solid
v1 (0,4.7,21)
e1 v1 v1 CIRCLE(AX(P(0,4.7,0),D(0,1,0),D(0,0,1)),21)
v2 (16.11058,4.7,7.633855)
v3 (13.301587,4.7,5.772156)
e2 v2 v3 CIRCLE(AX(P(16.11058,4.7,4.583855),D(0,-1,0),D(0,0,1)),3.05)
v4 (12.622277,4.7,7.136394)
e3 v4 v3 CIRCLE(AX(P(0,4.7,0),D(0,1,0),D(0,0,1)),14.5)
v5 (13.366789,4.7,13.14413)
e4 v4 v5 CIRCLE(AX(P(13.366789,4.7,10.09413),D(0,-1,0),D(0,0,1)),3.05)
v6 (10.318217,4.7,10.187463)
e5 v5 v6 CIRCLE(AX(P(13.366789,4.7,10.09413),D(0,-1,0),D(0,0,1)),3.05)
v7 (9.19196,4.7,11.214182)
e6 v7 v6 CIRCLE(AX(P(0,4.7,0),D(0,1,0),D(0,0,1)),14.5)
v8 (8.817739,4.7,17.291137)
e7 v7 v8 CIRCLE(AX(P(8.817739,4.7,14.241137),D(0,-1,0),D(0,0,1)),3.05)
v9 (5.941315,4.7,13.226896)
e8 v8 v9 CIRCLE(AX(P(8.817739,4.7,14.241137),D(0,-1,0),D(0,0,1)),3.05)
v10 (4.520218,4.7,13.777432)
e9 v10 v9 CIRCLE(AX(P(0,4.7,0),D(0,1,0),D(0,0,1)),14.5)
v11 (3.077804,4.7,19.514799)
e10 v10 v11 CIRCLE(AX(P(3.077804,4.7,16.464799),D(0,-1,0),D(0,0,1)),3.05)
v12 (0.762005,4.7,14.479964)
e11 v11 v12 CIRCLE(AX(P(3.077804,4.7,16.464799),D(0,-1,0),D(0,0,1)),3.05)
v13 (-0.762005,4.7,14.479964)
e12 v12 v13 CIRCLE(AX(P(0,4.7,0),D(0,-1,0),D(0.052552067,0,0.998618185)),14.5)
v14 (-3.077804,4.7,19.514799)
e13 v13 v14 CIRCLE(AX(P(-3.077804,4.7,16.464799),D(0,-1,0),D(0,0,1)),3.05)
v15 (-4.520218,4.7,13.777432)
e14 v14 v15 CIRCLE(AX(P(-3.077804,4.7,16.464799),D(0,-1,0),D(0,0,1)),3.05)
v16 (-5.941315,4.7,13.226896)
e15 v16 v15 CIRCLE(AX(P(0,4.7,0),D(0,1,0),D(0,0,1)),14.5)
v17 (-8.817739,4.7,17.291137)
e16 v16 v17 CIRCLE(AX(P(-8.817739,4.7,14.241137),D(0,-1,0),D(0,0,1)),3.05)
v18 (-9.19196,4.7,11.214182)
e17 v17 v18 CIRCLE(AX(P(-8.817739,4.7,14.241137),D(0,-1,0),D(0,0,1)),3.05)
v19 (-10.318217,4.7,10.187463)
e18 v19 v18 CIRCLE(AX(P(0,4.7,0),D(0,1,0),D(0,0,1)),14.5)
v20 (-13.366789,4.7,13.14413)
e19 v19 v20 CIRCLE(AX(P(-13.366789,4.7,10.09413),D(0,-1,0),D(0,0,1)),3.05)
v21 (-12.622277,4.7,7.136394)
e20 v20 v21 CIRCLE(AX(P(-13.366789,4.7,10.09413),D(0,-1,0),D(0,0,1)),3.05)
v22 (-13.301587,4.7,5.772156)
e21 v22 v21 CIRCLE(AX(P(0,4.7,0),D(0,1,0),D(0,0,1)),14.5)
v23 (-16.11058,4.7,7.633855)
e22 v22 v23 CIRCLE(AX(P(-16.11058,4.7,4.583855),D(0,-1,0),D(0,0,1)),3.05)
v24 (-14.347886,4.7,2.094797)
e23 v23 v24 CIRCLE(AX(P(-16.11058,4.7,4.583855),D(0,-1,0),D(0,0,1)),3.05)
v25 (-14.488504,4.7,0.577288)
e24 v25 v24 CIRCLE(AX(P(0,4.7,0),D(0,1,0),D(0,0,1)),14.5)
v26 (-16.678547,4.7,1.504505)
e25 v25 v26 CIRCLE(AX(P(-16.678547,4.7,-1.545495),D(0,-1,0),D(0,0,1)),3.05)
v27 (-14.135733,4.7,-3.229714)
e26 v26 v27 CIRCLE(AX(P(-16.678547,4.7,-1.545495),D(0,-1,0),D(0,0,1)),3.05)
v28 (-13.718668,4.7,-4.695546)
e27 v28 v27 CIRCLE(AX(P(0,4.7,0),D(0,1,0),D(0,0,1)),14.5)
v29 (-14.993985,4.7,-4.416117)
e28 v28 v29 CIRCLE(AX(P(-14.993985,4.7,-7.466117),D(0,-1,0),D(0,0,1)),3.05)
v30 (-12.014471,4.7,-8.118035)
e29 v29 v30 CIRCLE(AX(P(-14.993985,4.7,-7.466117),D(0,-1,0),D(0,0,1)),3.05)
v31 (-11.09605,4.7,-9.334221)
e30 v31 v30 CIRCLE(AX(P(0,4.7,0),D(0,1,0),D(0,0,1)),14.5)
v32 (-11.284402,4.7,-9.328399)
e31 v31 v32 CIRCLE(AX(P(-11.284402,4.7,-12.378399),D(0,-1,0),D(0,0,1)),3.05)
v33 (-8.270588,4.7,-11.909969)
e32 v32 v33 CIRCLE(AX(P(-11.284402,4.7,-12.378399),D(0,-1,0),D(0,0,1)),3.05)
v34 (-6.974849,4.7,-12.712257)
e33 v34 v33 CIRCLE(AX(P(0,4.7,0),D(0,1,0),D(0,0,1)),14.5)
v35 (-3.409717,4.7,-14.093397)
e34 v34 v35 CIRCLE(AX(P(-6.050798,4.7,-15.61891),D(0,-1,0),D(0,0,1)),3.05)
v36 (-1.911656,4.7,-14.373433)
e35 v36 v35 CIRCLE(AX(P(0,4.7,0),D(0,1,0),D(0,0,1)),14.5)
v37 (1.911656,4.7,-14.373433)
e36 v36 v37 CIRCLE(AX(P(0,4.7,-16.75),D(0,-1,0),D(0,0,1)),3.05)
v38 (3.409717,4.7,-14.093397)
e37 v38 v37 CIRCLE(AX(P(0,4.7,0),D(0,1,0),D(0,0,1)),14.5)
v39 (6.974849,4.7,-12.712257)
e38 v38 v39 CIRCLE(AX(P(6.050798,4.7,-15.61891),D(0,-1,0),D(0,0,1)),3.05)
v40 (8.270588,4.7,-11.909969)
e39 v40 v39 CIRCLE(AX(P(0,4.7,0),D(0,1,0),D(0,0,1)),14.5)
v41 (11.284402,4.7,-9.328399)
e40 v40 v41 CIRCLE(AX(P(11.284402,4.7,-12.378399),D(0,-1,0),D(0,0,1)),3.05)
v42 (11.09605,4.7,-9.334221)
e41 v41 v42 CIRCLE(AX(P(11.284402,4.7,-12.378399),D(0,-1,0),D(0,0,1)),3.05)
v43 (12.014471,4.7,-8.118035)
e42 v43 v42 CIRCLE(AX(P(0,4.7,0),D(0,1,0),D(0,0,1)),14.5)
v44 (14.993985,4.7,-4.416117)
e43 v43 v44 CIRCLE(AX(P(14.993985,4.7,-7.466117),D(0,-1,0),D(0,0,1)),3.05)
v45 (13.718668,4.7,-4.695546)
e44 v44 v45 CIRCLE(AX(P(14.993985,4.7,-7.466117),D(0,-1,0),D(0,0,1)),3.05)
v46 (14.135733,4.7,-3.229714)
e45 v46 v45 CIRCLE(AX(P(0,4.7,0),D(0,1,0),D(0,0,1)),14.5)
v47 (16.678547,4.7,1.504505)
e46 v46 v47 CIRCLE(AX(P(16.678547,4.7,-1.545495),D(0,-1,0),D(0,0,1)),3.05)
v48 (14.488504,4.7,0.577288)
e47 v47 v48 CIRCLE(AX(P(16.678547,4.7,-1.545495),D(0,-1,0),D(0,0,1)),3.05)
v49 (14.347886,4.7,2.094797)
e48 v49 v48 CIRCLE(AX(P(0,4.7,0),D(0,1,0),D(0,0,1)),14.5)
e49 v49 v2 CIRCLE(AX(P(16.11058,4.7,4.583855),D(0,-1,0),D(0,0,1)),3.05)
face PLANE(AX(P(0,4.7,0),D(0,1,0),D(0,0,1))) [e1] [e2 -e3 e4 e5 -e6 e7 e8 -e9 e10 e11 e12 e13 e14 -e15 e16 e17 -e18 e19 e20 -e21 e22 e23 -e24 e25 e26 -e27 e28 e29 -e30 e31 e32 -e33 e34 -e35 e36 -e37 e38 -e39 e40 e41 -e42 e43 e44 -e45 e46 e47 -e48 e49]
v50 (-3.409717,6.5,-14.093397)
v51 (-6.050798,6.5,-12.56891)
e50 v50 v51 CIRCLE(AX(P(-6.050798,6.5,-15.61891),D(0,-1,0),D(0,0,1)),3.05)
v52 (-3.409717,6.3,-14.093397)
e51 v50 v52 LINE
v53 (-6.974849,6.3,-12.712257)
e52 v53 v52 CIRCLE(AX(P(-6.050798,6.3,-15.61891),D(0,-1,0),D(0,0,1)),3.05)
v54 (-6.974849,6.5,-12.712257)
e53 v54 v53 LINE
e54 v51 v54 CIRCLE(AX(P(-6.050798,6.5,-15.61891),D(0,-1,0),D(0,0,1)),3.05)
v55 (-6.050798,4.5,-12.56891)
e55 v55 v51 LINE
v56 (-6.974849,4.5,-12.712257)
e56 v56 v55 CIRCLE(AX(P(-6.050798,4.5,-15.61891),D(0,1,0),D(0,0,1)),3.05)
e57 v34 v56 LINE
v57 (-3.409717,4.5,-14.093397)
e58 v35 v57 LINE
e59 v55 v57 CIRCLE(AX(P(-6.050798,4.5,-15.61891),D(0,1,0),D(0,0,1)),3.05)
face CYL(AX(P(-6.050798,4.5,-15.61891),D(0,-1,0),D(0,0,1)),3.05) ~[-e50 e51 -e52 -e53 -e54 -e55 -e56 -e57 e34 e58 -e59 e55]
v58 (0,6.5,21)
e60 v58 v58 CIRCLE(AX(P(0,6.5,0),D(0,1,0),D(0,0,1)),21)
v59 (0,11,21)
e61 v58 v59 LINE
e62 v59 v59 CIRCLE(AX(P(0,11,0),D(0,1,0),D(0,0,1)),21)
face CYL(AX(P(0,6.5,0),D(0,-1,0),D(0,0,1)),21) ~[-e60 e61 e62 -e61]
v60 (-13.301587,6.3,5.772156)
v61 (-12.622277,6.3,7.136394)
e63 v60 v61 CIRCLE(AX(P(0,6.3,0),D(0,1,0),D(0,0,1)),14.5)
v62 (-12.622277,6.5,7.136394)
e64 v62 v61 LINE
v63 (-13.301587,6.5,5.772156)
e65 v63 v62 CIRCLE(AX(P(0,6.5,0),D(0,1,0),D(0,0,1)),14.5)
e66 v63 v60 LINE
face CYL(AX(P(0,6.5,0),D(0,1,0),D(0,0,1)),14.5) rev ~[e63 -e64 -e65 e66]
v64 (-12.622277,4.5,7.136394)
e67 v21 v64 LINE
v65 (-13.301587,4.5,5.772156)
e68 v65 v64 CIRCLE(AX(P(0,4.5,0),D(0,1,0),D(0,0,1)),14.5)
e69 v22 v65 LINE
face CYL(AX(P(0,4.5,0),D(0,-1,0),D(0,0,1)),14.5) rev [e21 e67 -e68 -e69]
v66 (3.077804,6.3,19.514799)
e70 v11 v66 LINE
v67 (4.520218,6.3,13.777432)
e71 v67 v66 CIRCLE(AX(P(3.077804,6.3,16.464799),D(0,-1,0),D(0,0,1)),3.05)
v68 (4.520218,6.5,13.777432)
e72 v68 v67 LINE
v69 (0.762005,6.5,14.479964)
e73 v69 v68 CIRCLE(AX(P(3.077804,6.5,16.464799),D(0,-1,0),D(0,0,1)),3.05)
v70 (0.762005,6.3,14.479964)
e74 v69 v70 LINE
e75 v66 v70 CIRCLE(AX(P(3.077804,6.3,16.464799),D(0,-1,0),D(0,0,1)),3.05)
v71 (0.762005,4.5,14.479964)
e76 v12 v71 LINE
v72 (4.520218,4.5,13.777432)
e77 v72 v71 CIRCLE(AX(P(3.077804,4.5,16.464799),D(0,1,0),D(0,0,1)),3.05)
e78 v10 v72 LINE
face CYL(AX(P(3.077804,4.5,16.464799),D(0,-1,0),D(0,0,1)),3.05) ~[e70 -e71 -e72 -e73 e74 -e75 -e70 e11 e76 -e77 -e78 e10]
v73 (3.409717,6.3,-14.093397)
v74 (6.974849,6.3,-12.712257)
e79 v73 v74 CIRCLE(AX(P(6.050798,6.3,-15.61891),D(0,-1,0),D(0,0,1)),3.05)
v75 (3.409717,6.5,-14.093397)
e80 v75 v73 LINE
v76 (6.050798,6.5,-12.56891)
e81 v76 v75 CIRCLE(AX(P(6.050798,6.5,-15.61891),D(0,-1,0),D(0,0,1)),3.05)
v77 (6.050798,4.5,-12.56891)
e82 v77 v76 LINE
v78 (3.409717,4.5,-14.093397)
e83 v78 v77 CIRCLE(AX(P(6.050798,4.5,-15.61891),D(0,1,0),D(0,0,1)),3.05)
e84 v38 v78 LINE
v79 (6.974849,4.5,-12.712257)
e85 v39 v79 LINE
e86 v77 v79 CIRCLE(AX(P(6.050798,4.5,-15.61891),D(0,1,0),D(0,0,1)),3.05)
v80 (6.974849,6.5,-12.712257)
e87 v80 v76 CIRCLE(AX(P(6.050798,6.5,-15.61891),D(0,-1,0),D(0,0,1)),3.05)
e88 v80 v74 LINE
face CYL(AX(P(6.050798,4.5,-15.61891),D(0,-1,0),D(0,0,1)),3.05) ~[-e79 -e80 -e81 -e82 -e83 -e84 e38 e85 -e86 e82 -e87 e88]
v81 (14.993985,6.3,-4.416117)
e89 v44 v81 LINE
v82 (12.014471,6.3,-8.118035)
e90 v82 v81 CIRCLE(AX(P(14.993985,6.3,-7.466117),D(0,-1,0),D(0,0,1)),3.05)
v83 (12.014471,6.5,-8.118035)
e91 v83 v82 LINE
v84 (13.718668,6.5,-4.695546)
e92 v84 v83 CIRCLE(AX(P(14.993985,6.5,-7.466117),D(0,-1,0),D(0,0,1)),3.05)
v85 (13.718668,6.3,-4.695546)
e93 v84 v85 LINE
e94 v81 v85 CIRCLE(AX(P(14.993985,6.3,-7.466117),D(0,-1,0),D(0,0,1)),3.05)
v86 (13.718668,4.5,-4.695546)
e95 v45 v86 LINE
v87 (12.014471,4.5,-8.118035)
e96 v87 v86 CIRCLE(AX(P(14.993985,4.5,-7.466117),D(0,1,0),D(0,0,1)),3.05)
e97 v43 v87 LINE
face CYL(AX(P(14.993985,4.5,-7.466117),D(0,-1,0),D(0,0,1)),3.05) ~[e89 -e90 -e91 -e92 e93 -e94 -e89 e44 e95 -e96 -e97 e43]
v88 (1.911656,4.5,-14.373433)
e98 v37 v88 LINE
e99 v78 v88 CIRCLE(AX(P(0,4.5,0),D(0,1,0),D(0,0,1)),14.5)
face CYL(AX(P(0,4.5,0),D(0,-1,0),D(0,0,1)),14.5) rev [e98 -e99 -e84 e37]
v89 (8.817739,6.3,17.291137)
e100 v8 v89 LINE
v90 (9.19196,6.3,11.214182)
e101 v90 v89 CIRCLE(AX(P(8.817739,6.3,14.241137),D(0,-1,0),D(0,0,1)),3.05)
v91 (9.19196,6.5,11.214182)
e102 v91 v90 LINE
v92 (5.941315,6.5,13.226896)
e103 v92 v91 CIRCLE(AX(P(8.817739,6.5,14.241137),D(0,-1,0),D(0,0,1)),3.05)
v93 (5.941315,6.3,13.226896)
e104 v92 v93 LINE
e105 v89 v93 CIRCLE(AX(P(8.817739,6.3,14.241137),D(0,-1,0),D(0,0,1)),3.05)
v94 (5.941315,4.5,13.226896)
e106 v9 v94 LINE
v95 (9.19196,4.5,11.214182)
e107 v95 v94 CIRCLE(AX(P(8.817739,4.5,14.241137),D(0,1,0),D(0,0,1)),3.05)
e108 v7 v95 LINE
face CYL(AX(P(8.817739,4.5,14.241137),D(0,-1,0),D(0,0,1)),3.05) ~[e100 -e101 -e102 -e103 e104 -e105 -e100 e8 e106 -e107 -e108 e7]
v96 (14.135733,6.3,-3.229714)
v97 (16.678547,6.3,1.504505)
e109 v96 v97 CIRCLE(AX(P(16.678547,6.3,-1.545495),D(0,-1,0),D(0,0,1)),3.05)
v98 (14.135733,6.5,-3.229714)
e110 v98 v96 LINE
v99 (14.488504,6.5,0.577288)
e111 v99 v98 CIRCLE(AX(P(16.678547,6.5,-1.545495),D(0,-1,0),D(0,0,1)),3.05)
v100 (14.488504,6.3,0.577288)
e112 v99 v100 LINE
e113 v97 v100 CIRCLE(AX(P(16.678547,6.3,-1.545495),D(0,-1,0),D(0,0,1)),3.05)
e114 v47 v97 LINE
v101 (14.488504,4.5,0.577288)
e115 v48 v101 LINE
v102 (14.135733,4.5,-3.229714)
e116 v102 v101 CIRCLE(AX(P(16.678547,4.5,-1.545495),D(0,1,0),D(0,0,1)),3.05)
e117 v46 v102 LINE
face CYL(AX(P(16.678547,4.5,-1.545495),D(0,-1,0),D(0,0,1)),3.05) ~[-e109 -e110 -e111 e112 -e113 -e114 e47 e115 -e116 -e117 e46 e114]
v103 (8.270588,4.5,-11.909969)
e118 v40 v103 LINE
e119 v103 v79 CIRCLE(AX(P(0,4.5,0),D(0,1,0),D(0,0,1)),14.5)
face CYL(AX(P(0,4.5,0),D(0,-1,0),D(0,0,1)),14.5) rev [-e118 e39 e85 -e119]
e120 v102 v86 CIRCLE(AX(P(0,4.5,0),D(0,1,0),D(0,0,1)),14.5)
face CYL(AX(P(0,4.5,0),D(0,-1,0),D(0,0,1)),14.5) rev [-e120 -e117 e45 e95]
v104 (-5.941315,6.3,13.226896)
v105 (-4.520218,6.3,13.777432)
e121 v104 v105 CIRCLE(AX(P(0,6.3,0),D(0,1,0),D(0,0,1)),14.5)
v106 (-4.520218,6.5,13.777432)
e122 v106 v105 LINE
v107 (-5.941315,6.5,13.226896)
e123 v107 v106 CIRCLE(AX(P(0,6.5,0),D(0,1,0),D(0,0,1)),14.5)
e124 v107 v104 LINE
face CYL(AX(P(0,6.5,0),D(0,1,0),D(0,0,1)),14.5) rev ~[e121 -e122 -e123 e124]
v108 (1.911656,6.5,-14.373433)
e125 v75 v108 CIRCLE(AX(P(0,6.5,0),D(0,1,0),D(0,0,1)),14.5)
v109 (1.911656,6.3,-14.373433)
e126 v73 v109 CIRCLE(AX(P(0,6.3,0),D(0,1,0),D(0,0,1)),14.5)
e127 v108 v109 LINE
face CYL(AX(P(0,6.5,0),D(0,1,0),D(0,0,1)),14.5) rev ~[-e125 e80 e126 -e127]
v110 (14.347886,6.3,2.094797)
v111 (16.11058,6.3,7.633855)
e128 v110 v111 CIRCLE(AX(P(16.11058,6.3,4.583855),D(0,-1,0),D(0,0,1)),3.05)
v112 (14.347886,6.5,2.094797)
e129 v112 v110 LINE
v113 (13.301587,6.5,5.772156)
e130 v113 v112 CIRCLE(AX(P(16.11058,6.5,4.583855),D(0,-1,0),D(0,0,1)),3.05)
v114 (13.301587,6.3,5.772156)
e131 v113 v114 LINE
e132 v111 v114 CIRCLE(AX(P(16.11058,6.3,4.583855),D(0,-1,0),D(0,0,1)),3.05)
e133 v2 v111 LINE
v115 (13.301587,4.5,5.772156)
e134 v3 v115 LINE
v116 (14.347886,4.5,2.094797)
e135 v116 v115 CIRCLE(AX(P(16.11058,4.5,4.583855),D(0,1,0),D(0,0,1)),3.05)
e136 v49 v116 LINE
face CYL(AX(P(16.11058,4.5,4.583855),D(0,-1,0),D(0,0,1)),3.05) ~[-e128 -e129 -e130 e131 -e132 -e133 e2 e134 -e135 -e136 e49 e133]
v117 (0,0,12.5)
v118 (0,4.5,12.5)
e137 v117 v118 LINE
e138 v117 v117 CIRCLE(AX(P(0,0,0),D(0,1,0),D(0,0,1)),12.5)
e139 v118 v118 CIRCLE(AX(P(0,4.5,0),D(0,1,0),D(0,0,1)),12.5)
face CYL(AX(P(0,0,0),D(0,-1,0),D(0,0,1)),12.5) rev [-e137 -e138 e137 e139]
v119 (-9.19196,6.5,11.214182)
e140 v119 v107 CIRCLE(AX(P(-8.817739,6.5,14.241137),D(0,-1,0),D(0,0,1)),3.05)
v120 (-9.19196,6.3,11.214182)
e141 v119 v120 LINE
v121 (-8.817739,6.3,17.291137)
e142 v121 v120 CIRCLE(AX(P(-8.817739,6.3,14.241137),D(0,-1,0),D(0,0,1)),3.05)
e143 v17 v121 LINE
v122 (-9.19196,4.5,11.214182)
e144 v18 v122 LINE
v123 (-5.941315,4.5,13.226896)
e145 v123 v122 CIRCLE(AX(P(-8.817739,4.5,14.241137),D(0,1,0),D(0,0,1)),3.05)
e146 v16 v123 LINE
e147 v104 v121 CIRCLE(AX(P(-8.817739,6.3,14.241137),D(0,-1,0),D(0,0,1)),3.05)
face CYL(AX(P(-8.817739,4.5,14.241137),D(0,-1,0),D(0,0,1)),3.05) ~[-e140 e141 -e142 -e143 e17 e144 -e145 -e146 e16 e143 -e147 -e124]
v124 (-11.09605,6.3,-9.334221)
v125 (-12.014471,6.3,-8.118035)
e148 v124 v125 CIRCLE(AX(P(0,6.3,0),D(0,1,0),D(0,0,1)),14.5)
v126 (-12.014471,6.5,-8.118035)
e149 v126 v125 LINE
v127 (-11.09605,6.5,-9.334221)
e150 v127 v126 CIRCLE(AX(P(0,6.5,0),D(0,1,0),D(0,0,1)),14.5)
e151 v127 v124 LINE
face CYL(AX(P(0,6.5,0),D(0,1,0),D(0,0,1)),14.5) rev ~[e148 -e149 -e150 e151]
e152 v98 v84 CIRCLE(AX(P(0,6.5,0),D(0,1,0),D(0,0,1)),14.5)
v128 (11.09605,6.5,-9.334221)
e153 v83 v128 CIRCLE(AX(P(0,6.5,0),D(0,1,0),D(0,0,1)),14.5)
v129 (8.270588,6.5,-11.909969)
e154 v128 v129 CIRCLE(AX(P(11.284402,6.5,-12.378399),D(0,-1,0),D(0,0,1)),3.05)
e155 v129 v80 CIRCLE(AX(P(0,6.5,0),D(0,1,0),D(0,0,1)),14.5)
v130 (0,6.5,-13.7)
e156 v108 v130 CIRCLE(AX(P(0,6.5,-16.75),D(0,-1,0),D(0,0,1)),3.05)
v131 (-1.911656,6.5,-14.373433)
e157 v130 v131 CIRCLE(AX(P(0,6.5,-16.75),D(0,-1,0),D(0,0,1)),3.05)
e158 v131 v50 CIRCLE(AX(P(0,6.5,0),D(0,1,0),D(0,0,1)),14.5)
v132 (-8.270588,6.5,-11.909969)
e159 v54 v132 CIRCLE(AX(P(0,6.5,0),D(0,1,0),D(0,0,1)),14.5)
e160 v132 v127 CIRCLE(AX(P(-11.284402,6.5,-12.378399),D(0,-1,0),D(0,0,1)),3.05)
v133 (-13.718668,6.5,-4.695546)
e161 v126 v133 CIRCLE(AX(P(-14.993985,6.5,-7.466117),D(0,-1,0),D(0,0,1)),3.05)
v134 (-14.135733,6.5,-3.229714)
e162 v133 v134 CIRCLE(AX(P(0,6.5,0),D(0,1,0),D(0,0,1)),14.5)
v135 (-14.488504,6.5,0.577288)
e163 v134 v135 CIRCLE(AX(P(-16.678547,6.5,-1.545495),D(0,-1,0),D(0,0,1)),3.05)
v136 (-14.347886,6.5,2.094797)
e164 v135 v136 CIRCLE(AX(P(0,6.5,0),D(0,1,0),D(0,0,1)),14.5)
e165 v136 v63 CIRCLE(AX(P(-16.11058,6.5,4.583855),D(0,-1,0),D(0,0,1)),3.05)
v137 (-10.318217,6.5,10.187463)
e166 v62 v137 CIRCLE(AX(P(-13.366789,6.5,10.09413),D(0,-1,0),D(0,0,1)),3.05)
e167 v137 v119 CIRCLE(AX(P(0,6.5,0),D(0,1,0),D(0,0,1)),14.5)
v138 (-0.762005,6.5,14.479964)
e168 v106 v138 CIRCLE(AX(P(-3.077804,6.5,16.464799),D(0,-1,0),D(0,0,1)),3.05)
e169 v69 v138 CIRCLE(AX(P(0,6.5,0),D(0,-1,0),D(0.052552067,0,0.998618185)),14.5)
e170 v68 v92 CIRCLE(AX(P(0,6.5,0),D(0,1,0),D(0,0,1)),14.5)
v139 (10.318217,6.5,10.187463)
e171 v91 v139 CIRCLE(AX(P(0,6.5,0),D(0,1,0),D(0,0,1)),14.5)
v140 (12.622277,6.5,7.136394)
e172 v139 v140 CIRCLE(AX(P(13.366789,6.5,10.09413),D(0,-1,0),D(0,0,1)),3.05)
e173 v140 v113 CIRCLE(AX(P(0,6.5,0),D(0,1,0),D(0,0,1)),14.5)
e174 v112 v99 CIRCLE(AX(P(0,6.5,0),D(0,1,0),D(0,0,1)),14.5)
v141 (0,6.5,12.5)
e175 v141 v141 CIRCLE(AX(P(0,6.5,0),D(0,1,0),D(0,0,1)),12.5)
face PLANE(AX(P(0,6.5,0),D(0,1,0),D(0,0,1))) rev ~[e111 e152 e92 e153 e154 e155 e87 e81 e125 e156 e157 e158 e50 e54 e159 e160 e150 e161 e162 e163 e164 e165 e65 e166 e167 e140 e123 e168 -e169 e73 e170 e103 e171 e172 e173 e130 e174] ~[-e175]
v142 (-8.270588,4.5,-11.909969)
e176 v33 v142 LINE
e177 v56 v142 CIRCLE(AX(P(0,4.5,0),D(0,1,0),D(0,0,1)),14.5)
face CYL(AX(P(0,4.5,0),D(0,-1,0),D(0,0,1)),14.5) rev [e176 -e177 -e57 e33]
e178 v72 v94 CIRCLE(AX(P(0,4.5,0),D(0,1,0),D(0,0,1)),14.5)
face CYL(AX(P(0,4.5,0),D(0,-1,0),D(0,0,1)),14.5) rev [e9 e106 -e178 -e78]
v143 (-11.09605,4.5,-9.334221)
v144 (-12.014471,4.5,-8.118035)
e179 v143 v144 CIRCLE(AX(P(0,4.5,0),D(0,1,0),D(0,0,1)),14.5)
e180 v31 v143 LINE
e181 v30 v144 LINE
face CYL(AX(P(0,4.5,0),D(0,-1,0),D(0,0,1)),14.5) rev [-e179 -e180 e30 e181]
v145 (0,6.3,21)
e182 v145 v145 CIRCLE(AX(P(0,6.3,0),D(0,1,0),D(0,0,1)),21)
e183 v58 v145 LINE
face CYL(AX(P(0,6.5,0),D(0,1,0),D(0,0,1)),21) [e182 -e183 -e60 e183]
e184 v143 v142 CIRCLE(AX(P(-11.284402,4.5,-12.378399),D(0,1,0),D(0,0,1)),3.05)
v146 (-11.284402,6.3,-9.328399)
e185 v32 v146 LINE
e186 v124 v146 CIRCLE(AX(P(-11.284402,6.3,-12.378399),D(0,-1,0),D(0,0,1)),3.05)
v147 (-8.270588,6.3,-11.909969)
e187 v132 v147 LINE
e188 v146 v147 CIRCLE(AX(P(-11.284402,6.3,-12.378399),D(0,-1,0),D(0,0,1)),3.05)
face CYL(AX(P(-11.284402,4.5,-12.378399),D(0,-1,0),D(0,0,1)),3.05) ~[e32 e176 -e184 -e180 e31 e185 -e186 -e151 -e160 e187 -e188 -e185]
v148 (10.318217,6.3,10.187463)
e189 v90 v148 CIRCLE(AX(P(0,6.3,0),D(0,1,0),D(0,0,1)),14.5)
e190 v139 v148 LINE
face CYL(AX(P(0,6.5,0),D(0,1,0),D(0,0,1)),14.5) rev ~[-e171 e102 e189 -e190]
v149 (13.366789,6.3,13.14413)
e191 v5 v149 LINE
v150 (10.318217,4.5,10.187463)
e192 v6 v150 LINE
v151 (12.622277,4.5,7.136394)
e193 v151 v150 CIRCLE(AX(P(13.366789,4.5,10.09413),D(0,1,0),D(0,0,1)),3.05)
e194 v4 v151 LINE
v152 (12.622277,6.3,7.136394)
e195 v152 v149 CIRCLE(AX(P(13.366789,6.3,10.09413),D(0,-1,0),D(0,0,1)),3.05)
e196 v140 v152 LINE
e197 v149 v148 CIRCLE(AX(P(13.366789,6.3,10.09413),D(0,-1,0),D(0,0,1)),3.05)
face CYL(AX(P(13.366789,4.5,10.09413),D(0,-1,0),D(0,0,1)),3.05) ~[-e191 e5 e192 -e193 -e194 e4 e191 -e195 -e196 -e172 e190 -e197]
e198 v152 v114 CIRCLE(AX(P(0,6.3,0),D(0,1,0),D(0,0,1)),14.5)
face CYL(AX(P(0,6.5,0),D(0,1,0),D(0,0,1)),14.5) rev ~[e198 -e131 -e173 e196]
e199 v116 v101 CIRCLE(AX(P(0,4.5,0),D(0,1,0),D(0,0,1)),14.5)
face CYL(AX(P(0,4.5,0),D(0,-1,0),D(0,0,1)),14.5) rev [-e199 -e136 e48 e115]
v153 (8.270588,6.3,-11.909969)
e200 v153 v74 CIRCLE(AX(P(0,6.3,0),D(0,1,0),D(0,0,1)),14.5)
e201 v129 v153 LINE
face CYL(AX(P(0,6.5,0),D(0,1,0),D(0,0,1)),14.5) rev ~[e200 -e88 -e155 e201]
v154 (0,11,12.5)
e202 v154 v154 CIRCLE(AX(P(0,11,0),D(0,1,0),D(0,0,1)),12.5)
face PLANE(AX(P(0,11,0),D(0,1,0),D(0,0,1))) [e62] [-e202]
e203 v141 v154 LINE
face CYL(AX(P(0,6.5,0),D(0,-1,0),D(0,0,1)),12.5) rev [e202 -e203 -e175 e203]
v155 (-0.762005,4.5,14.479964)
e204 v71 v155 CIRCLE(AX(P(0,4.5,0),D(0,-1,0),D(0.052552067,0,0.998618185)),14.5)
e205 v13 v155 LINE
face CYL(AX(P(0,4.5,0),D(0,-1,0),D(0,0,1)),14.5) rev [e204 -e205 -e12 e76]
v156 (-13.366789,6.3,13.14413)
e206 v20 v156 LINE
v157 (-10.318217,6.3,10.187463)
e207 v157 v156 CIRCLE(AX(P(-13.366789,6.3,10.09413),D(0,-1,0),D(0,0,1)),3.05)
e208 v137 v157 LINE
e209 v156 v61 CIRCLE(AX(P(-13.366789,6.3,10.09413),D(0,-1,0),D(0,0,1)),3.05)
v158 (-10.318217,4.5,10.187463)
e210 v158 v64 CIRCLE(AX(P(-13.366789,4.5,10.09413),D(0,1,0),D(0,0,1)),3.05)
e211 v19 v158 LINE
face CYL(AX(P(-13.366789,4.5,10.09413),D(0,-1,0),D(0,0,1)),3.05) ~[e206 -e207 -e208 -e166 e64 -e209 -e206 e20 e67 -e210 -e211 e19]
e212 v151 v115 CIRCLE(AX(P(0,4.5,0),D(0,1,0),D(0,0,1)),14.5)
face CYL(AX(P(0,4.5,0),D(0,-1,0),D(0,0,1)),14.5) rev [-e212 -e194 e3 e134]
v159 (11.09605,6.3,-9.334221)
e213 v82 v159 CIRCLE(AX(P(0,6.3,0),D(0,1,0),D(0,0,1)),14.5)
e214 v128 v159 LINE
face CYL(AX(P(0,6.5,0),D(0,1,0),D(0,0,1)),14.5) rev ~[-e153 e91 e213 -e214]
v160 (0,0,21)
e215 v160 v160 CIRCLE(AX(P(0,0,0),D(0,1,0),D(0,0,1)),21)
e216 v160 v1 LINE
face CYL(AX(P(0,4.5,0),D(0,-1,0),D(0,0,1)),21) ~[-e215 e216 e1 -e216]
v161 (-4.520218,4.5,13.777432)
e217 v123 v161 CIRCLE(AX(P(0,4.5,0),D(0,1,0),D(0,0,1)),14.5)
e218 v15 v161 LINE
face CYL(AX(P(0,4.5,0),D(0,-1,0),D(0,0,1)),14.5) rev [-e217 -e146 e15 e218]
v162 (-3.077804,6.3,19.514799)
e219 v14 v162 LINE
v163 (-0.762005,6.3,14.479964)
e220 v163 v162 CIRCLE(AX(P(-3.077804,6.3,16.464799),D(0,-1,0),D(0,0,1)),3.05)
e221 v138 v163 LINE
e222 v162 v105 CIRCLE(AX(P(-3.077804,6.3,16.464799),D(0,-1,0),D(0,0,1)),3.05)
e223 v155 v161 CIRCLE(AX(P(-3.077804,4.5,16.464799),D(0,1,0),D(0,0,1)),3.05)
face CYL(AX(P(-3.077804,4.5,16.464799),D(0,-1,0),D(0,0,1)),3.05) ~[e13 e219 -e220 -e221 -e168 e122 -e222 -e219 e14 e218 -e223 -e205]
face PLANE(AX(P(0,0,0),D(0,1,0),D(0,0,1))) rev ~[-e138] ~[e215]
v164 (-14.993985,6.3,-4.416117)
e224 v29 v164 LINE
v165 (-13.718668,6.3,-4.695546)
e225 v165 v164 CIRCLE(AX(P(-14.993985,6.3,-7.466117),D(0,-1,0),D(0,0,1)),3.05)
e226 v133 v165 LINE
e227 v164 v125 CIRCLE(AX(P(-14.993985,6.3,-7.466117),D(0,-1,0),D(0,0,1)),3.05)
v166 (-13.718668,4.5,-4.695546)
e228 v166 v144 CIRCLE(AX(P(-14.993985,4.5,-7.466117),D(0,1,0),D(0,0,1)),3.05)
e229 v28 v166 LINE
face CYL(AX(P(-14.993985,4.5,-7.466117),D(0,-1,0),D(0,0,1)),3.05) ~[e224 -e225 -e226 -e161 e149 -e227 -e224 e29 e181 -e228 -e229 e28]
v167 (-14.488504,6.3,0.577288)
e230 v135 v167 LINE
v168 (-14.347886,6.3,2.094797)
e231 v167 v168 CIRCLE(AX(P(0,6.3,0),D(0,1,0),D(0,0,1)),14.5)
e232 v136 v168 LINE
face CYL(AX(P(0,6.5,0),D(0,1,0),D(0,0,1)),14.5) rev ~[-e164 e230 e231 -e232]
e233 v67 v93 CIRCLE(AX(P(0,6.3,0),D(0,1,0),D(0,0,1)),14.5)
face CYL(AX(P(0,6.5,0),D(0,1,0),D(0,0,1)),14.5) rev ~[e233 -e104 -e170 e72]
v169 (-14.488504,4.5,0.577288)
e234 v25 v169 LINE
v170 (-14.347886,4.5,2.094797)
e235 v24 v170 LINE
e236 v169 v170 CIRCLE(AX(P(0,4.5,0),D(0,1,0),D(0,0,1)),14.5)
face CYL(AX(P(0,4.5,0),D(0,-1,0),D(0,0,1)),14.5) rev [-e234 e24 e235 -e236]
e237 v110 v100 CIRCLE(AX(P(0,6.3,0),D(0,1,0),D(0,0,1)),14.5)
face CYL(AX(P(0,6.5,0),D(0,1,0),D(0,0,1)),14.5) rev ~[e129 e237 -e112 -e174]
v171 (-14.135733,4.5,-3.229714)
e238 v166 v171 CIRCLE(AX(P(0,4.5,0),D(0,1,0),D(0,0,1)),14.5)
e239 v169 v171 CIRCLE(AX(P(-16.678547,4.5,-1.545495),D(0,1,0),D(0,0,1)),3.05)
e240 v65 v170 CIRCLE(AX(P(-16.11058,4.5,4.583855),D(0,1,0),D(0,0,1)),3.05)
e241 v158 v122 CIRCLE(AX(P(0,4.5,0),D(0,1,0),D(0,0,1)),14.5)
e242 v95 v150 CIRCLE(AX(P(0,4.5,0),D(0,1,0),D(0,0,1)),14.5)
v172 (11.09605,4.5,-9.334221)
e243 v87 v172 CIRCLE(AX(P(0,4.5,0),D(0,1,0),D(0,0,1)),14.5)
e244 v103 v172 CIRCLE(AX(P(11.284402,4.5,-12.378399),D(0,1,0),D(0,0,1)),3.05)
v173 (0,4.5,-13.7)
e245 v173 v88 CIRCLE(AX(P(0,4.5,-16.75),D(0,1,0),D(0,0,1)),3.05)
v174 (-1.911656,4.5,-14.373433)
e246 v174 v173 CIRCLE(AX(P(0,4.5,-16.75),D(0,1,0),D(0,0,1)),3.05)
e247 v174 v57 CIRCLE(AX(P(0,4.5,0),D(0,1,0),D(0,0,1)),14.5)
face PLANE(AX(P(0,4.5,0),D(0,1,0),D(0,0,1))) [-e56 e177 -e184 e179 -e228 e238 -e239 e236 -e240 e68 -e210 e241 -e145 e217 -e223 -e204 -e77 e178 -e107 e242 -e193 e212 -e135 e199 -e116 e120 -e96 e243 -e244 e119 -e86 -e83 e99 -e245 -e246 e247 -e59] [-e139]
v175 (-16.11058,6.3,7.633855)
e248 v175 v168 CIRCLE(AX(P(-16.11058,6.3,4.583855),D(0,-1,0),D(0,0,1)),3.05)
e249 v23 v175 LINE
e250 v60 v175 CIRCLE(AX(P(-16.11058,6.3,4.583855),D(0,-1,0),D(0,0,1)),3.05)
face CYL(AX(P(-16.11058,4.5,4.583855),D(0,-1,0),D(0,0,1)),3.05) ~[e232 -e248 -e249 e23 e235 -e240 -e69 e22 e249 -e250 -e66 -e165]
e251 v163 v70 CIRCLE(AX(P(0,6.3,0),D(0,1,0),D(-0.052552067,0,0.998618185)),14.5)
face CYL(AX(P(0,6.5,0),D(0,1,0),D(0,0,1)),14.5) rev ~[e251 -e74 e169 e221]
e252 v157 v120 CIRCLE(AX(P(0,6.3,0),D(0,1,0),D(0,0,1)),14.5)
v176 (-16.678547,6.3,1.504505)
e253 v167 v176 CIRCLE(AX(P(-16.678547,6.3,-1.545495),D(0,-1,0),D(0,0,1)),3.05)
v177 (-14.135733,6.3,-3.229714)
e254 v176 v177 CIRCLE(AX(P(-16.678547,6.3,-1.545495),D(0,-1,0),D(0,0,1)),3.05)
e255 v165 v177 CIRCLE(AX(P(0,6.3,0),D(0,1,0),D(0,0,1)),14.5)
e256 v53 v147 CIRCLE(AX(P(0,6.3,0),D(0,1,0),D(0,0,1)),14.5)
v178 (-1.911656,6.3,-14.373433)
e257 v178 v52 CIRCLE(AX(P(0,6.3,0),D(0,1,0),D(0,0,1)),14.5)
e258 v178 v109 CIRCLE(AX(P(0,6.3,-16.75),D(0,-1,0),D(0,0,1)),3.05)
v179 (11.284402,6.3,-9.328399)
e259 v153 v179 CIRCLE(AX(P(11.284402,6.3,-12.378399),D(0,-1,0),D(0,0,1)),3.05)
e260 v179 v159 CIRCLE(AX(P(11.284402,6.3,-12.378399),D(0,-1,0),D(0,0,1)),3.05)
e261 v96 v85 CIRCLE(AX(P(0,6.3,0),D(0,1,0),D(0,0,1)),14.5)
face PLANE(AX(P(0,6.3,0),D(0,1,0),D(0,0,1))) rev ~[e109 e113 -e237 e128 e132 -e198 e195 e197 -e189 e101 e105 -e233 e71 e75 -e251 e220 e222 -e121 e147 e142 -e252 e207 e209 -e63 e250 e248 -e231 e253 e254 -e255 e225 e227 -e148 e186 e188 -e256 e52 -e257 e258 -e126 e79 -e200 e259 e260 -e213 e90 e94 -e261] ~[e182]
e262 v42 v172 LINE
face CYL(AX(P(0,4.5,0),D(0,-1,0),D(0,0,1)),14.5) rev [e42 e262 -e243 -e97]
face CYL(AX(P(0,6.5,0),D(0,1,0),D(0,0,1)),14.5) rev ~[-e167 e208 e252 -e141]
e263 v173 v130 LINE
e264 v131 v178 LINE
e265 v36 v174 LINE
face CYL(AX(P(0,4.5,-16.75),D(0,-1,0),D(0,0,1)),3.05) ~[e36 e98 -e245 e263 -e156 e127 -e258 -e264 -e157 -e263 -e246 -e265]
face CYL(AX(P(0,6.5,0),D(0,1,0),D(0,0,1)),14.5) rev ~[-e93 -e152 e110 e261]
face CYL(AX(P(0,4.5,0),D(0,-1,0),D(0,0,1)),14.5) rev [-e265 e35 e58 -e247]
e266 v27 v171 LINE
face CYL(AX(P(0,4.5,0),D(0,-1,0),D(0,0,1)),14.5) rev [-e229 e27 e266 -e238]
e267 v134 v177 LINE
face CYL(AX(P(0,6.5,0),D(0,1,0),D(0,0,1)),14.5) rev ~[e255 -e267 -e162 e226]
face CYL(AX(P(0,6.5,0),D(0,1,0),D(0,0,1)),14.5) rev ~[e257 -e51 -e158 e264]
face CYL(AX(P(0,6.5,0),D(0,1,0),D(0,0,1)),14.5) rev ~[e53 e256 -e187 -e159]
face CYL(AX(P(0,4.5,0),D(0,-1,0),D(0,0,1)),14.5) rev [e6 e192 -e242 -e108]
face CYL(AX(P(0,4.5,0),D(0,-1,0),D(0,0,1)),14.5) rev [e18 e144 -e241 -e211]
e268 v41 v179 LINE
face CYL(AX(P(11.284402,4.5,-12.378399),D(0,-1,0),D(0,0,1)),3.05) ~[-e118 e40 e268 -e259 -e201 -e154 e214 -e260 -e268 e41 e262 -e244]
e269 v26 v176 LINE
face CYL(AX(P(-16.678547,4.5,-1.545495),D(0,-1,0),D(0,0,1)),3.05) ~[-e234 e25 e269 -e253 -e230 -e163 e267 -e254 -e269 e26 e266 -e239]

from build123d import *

# Parameters (mm, degrees)
SKETCH_1_R      = 21
SKETCH_1_R_2    = 12.5
EXTRUDE_1_DEPTH = 4.5
SKETCH_2_R      = 3.05
EXTRUDE_3_DEPTH = 3.5
SKETCH_3_R      = 21
SKETCH_3_R_2    = 14.5
EXTRUDE_4_DEPTH = 0.2
SKETCH_5_R      = 21
SKETCH_5_R_2    = 14.5
EXTRUDE_8_DEPTH = 0.2
SKETCH_6_R      = 21
SKETCH_6_R_2    = 12.5
EXTRUDE_9_DEPTH = 4.5


with BuildPart() as part:
    # 草图1 → 凸台-拉伸1 (new body)
    with BuildSketch(Plane(origin=(0, 0, 0), x_dir=(1, 0, 0), z_dir=(0, 1, 0))):
        with Locations(Location((0, 0, 0), (0, 0, 270))):
            Circle(SKETCH_1_R)
        with Locations(Location((0, 0, 0), (0, 0, 270))):
            Circle(SKETCH_1_R_2, mode=Mode.SUBTRACT)
    extrude(amount=EXTRUDE_1_DEPTH)

    # 草图2 → 凸台-拉伸3 (add)
    with BuildSketch(Plane(origin=(0, 4.5, 0), x_dir=(1, 0, 0), z_dir=(0, 1, 0))):
        with Locations(Location((0, 16.75, 0), (0, 0, 270))):
            Circle(SKETCH_2_R)
        with Locations(Location((6.050797909, 15.618909843, 0), (0, 0, 270))):
            Circle(SKETCH_2_R)
        with Locations(Location((11.284402031, 12.378399363, 0), (0, 0, 270))):
            Circle(SKETCH_2_R)
        with Locations(Location((14.99398513, 7.466117459, 0), (0, 0, 270))):
            Circle(SKETCH_2_R)
        with Locations(Location((16.678547453, 1.545495021, 0), (0, 0, 270))):
            Circle(SKETCH_2_R)
        with Locations(Location((16.110579523, -4.583855084, 0), (0, 0, 270))):
            Circle(SKETCH_2_R)
        with Locations(Location((13.366788557, -10.094130159, 0), (0, 0, 270))):
            Circle(SKETCH_2_R)
        with Locations(Location((8.817738728, -14.241137023, 0), (0, 0, 270))):
            Circle(SKETCH_2_R)
        with Locations(Location((3.077804423, -16.46479942, 0), (0, 0, 270))):
            Circle(SKETCH_2_R)
        with Locations(Location((-3.077804423, -16.46479942, 0), (0, 0, 270))):
            Circle(SKETCH_2_R)
        with Locations(Location((-8.817738728, -14.241137023, 0), (0, 0, 270))):
            Circle(SKETCH_2_R)
        with Locations(Location((-13.366788557, -10.094130159, 0), (0, 0, 270))):
            Circle(SKETCH_2_R)
        with Locations(Location((-16.110579523, -4.583855084, 0), (0, 0, 270))):
            Circle(SKETCH_2_R)
        with Locations(Location((-16.678547453, 1.545495021, 0), (0, 0, 270))):
            Circle(SKETCH_2_R)
        with Locations(Location((-14.99398513, 7.466117459, 0), (0, 0, 270))):
            Circle(SKETCH_2_R)
        with Locations(Location((-11.284402031, 12.378399363, 0), (0, 0, 270))):
            Circle(SKETCH_2_R)
        with Locations(Location((-6.050797909, 15.618909843, 0), (0, 0, 270))):
            Circle(SKETCH_2_R)
    extrude(amount=EXTRUDE_3_DEPTH)

    # 草图5 → 凸台-拉伸8 (add)
    with BuildSketch(Plane(origin=(0, 4.5, 0), x_dir=(1, 0, 0), z_dir=(0, 1, 0))):
        with Locations(Location((0, 0, 0), (0, 0, 270))):
            Circle(SKETCH_5_R)
        with Locations(Location((0, 0, 0), (0, 0, 270))):
            Circle(SKETCH_5_R_2, mode=Mode.SUBTRACT)
    extrude(amount=EXTRUDE_8_DEPTH)



with BuildPart() as body_2:
    # 草图3 → 凸台-拉伸4 (new body)
    with BuildSketch(Plane(origin=(0, 6.5, 0), x_dir=(1, 0, 0), z_dir=(0, 1, 0))):
        with Locations(Location((0, 0, 0), (0, 0, 270))):
            Circle(SKETCH_3_R)
        with Locations(Location((0, 0, 0), (0, 0, 270))):
            Circle(SKETCH_3_R_2, mode=Mode.SUBTRACT)
    extrude(amount=-EXTRUDE_4_DEPTH)


with BuildPart() as part_1:
    add(part.part)

    add(body_2.part)  # 凸台-拉伸9 merges body 2
    # 草图6 → 凸台-拉伸9 (add)
    with BuildSketch(Plane(origin=(0, 6.5, 0), x_dir=(1, 0, 0), z_dir=(0, 1, 0))):
        with Locations(Location((0, 0, 0), (0, 0, 270))):
            Circle(SKETCH_6_R)
        with Locations(Location((0, 0, 0), (0, 0, 270))):
            Circle(SKETCH_6_R_2, mode=Mode.SUBTRACT)
    extrude(amount=EXTRUDE_9_DEPTH)


solid = part_1.part
